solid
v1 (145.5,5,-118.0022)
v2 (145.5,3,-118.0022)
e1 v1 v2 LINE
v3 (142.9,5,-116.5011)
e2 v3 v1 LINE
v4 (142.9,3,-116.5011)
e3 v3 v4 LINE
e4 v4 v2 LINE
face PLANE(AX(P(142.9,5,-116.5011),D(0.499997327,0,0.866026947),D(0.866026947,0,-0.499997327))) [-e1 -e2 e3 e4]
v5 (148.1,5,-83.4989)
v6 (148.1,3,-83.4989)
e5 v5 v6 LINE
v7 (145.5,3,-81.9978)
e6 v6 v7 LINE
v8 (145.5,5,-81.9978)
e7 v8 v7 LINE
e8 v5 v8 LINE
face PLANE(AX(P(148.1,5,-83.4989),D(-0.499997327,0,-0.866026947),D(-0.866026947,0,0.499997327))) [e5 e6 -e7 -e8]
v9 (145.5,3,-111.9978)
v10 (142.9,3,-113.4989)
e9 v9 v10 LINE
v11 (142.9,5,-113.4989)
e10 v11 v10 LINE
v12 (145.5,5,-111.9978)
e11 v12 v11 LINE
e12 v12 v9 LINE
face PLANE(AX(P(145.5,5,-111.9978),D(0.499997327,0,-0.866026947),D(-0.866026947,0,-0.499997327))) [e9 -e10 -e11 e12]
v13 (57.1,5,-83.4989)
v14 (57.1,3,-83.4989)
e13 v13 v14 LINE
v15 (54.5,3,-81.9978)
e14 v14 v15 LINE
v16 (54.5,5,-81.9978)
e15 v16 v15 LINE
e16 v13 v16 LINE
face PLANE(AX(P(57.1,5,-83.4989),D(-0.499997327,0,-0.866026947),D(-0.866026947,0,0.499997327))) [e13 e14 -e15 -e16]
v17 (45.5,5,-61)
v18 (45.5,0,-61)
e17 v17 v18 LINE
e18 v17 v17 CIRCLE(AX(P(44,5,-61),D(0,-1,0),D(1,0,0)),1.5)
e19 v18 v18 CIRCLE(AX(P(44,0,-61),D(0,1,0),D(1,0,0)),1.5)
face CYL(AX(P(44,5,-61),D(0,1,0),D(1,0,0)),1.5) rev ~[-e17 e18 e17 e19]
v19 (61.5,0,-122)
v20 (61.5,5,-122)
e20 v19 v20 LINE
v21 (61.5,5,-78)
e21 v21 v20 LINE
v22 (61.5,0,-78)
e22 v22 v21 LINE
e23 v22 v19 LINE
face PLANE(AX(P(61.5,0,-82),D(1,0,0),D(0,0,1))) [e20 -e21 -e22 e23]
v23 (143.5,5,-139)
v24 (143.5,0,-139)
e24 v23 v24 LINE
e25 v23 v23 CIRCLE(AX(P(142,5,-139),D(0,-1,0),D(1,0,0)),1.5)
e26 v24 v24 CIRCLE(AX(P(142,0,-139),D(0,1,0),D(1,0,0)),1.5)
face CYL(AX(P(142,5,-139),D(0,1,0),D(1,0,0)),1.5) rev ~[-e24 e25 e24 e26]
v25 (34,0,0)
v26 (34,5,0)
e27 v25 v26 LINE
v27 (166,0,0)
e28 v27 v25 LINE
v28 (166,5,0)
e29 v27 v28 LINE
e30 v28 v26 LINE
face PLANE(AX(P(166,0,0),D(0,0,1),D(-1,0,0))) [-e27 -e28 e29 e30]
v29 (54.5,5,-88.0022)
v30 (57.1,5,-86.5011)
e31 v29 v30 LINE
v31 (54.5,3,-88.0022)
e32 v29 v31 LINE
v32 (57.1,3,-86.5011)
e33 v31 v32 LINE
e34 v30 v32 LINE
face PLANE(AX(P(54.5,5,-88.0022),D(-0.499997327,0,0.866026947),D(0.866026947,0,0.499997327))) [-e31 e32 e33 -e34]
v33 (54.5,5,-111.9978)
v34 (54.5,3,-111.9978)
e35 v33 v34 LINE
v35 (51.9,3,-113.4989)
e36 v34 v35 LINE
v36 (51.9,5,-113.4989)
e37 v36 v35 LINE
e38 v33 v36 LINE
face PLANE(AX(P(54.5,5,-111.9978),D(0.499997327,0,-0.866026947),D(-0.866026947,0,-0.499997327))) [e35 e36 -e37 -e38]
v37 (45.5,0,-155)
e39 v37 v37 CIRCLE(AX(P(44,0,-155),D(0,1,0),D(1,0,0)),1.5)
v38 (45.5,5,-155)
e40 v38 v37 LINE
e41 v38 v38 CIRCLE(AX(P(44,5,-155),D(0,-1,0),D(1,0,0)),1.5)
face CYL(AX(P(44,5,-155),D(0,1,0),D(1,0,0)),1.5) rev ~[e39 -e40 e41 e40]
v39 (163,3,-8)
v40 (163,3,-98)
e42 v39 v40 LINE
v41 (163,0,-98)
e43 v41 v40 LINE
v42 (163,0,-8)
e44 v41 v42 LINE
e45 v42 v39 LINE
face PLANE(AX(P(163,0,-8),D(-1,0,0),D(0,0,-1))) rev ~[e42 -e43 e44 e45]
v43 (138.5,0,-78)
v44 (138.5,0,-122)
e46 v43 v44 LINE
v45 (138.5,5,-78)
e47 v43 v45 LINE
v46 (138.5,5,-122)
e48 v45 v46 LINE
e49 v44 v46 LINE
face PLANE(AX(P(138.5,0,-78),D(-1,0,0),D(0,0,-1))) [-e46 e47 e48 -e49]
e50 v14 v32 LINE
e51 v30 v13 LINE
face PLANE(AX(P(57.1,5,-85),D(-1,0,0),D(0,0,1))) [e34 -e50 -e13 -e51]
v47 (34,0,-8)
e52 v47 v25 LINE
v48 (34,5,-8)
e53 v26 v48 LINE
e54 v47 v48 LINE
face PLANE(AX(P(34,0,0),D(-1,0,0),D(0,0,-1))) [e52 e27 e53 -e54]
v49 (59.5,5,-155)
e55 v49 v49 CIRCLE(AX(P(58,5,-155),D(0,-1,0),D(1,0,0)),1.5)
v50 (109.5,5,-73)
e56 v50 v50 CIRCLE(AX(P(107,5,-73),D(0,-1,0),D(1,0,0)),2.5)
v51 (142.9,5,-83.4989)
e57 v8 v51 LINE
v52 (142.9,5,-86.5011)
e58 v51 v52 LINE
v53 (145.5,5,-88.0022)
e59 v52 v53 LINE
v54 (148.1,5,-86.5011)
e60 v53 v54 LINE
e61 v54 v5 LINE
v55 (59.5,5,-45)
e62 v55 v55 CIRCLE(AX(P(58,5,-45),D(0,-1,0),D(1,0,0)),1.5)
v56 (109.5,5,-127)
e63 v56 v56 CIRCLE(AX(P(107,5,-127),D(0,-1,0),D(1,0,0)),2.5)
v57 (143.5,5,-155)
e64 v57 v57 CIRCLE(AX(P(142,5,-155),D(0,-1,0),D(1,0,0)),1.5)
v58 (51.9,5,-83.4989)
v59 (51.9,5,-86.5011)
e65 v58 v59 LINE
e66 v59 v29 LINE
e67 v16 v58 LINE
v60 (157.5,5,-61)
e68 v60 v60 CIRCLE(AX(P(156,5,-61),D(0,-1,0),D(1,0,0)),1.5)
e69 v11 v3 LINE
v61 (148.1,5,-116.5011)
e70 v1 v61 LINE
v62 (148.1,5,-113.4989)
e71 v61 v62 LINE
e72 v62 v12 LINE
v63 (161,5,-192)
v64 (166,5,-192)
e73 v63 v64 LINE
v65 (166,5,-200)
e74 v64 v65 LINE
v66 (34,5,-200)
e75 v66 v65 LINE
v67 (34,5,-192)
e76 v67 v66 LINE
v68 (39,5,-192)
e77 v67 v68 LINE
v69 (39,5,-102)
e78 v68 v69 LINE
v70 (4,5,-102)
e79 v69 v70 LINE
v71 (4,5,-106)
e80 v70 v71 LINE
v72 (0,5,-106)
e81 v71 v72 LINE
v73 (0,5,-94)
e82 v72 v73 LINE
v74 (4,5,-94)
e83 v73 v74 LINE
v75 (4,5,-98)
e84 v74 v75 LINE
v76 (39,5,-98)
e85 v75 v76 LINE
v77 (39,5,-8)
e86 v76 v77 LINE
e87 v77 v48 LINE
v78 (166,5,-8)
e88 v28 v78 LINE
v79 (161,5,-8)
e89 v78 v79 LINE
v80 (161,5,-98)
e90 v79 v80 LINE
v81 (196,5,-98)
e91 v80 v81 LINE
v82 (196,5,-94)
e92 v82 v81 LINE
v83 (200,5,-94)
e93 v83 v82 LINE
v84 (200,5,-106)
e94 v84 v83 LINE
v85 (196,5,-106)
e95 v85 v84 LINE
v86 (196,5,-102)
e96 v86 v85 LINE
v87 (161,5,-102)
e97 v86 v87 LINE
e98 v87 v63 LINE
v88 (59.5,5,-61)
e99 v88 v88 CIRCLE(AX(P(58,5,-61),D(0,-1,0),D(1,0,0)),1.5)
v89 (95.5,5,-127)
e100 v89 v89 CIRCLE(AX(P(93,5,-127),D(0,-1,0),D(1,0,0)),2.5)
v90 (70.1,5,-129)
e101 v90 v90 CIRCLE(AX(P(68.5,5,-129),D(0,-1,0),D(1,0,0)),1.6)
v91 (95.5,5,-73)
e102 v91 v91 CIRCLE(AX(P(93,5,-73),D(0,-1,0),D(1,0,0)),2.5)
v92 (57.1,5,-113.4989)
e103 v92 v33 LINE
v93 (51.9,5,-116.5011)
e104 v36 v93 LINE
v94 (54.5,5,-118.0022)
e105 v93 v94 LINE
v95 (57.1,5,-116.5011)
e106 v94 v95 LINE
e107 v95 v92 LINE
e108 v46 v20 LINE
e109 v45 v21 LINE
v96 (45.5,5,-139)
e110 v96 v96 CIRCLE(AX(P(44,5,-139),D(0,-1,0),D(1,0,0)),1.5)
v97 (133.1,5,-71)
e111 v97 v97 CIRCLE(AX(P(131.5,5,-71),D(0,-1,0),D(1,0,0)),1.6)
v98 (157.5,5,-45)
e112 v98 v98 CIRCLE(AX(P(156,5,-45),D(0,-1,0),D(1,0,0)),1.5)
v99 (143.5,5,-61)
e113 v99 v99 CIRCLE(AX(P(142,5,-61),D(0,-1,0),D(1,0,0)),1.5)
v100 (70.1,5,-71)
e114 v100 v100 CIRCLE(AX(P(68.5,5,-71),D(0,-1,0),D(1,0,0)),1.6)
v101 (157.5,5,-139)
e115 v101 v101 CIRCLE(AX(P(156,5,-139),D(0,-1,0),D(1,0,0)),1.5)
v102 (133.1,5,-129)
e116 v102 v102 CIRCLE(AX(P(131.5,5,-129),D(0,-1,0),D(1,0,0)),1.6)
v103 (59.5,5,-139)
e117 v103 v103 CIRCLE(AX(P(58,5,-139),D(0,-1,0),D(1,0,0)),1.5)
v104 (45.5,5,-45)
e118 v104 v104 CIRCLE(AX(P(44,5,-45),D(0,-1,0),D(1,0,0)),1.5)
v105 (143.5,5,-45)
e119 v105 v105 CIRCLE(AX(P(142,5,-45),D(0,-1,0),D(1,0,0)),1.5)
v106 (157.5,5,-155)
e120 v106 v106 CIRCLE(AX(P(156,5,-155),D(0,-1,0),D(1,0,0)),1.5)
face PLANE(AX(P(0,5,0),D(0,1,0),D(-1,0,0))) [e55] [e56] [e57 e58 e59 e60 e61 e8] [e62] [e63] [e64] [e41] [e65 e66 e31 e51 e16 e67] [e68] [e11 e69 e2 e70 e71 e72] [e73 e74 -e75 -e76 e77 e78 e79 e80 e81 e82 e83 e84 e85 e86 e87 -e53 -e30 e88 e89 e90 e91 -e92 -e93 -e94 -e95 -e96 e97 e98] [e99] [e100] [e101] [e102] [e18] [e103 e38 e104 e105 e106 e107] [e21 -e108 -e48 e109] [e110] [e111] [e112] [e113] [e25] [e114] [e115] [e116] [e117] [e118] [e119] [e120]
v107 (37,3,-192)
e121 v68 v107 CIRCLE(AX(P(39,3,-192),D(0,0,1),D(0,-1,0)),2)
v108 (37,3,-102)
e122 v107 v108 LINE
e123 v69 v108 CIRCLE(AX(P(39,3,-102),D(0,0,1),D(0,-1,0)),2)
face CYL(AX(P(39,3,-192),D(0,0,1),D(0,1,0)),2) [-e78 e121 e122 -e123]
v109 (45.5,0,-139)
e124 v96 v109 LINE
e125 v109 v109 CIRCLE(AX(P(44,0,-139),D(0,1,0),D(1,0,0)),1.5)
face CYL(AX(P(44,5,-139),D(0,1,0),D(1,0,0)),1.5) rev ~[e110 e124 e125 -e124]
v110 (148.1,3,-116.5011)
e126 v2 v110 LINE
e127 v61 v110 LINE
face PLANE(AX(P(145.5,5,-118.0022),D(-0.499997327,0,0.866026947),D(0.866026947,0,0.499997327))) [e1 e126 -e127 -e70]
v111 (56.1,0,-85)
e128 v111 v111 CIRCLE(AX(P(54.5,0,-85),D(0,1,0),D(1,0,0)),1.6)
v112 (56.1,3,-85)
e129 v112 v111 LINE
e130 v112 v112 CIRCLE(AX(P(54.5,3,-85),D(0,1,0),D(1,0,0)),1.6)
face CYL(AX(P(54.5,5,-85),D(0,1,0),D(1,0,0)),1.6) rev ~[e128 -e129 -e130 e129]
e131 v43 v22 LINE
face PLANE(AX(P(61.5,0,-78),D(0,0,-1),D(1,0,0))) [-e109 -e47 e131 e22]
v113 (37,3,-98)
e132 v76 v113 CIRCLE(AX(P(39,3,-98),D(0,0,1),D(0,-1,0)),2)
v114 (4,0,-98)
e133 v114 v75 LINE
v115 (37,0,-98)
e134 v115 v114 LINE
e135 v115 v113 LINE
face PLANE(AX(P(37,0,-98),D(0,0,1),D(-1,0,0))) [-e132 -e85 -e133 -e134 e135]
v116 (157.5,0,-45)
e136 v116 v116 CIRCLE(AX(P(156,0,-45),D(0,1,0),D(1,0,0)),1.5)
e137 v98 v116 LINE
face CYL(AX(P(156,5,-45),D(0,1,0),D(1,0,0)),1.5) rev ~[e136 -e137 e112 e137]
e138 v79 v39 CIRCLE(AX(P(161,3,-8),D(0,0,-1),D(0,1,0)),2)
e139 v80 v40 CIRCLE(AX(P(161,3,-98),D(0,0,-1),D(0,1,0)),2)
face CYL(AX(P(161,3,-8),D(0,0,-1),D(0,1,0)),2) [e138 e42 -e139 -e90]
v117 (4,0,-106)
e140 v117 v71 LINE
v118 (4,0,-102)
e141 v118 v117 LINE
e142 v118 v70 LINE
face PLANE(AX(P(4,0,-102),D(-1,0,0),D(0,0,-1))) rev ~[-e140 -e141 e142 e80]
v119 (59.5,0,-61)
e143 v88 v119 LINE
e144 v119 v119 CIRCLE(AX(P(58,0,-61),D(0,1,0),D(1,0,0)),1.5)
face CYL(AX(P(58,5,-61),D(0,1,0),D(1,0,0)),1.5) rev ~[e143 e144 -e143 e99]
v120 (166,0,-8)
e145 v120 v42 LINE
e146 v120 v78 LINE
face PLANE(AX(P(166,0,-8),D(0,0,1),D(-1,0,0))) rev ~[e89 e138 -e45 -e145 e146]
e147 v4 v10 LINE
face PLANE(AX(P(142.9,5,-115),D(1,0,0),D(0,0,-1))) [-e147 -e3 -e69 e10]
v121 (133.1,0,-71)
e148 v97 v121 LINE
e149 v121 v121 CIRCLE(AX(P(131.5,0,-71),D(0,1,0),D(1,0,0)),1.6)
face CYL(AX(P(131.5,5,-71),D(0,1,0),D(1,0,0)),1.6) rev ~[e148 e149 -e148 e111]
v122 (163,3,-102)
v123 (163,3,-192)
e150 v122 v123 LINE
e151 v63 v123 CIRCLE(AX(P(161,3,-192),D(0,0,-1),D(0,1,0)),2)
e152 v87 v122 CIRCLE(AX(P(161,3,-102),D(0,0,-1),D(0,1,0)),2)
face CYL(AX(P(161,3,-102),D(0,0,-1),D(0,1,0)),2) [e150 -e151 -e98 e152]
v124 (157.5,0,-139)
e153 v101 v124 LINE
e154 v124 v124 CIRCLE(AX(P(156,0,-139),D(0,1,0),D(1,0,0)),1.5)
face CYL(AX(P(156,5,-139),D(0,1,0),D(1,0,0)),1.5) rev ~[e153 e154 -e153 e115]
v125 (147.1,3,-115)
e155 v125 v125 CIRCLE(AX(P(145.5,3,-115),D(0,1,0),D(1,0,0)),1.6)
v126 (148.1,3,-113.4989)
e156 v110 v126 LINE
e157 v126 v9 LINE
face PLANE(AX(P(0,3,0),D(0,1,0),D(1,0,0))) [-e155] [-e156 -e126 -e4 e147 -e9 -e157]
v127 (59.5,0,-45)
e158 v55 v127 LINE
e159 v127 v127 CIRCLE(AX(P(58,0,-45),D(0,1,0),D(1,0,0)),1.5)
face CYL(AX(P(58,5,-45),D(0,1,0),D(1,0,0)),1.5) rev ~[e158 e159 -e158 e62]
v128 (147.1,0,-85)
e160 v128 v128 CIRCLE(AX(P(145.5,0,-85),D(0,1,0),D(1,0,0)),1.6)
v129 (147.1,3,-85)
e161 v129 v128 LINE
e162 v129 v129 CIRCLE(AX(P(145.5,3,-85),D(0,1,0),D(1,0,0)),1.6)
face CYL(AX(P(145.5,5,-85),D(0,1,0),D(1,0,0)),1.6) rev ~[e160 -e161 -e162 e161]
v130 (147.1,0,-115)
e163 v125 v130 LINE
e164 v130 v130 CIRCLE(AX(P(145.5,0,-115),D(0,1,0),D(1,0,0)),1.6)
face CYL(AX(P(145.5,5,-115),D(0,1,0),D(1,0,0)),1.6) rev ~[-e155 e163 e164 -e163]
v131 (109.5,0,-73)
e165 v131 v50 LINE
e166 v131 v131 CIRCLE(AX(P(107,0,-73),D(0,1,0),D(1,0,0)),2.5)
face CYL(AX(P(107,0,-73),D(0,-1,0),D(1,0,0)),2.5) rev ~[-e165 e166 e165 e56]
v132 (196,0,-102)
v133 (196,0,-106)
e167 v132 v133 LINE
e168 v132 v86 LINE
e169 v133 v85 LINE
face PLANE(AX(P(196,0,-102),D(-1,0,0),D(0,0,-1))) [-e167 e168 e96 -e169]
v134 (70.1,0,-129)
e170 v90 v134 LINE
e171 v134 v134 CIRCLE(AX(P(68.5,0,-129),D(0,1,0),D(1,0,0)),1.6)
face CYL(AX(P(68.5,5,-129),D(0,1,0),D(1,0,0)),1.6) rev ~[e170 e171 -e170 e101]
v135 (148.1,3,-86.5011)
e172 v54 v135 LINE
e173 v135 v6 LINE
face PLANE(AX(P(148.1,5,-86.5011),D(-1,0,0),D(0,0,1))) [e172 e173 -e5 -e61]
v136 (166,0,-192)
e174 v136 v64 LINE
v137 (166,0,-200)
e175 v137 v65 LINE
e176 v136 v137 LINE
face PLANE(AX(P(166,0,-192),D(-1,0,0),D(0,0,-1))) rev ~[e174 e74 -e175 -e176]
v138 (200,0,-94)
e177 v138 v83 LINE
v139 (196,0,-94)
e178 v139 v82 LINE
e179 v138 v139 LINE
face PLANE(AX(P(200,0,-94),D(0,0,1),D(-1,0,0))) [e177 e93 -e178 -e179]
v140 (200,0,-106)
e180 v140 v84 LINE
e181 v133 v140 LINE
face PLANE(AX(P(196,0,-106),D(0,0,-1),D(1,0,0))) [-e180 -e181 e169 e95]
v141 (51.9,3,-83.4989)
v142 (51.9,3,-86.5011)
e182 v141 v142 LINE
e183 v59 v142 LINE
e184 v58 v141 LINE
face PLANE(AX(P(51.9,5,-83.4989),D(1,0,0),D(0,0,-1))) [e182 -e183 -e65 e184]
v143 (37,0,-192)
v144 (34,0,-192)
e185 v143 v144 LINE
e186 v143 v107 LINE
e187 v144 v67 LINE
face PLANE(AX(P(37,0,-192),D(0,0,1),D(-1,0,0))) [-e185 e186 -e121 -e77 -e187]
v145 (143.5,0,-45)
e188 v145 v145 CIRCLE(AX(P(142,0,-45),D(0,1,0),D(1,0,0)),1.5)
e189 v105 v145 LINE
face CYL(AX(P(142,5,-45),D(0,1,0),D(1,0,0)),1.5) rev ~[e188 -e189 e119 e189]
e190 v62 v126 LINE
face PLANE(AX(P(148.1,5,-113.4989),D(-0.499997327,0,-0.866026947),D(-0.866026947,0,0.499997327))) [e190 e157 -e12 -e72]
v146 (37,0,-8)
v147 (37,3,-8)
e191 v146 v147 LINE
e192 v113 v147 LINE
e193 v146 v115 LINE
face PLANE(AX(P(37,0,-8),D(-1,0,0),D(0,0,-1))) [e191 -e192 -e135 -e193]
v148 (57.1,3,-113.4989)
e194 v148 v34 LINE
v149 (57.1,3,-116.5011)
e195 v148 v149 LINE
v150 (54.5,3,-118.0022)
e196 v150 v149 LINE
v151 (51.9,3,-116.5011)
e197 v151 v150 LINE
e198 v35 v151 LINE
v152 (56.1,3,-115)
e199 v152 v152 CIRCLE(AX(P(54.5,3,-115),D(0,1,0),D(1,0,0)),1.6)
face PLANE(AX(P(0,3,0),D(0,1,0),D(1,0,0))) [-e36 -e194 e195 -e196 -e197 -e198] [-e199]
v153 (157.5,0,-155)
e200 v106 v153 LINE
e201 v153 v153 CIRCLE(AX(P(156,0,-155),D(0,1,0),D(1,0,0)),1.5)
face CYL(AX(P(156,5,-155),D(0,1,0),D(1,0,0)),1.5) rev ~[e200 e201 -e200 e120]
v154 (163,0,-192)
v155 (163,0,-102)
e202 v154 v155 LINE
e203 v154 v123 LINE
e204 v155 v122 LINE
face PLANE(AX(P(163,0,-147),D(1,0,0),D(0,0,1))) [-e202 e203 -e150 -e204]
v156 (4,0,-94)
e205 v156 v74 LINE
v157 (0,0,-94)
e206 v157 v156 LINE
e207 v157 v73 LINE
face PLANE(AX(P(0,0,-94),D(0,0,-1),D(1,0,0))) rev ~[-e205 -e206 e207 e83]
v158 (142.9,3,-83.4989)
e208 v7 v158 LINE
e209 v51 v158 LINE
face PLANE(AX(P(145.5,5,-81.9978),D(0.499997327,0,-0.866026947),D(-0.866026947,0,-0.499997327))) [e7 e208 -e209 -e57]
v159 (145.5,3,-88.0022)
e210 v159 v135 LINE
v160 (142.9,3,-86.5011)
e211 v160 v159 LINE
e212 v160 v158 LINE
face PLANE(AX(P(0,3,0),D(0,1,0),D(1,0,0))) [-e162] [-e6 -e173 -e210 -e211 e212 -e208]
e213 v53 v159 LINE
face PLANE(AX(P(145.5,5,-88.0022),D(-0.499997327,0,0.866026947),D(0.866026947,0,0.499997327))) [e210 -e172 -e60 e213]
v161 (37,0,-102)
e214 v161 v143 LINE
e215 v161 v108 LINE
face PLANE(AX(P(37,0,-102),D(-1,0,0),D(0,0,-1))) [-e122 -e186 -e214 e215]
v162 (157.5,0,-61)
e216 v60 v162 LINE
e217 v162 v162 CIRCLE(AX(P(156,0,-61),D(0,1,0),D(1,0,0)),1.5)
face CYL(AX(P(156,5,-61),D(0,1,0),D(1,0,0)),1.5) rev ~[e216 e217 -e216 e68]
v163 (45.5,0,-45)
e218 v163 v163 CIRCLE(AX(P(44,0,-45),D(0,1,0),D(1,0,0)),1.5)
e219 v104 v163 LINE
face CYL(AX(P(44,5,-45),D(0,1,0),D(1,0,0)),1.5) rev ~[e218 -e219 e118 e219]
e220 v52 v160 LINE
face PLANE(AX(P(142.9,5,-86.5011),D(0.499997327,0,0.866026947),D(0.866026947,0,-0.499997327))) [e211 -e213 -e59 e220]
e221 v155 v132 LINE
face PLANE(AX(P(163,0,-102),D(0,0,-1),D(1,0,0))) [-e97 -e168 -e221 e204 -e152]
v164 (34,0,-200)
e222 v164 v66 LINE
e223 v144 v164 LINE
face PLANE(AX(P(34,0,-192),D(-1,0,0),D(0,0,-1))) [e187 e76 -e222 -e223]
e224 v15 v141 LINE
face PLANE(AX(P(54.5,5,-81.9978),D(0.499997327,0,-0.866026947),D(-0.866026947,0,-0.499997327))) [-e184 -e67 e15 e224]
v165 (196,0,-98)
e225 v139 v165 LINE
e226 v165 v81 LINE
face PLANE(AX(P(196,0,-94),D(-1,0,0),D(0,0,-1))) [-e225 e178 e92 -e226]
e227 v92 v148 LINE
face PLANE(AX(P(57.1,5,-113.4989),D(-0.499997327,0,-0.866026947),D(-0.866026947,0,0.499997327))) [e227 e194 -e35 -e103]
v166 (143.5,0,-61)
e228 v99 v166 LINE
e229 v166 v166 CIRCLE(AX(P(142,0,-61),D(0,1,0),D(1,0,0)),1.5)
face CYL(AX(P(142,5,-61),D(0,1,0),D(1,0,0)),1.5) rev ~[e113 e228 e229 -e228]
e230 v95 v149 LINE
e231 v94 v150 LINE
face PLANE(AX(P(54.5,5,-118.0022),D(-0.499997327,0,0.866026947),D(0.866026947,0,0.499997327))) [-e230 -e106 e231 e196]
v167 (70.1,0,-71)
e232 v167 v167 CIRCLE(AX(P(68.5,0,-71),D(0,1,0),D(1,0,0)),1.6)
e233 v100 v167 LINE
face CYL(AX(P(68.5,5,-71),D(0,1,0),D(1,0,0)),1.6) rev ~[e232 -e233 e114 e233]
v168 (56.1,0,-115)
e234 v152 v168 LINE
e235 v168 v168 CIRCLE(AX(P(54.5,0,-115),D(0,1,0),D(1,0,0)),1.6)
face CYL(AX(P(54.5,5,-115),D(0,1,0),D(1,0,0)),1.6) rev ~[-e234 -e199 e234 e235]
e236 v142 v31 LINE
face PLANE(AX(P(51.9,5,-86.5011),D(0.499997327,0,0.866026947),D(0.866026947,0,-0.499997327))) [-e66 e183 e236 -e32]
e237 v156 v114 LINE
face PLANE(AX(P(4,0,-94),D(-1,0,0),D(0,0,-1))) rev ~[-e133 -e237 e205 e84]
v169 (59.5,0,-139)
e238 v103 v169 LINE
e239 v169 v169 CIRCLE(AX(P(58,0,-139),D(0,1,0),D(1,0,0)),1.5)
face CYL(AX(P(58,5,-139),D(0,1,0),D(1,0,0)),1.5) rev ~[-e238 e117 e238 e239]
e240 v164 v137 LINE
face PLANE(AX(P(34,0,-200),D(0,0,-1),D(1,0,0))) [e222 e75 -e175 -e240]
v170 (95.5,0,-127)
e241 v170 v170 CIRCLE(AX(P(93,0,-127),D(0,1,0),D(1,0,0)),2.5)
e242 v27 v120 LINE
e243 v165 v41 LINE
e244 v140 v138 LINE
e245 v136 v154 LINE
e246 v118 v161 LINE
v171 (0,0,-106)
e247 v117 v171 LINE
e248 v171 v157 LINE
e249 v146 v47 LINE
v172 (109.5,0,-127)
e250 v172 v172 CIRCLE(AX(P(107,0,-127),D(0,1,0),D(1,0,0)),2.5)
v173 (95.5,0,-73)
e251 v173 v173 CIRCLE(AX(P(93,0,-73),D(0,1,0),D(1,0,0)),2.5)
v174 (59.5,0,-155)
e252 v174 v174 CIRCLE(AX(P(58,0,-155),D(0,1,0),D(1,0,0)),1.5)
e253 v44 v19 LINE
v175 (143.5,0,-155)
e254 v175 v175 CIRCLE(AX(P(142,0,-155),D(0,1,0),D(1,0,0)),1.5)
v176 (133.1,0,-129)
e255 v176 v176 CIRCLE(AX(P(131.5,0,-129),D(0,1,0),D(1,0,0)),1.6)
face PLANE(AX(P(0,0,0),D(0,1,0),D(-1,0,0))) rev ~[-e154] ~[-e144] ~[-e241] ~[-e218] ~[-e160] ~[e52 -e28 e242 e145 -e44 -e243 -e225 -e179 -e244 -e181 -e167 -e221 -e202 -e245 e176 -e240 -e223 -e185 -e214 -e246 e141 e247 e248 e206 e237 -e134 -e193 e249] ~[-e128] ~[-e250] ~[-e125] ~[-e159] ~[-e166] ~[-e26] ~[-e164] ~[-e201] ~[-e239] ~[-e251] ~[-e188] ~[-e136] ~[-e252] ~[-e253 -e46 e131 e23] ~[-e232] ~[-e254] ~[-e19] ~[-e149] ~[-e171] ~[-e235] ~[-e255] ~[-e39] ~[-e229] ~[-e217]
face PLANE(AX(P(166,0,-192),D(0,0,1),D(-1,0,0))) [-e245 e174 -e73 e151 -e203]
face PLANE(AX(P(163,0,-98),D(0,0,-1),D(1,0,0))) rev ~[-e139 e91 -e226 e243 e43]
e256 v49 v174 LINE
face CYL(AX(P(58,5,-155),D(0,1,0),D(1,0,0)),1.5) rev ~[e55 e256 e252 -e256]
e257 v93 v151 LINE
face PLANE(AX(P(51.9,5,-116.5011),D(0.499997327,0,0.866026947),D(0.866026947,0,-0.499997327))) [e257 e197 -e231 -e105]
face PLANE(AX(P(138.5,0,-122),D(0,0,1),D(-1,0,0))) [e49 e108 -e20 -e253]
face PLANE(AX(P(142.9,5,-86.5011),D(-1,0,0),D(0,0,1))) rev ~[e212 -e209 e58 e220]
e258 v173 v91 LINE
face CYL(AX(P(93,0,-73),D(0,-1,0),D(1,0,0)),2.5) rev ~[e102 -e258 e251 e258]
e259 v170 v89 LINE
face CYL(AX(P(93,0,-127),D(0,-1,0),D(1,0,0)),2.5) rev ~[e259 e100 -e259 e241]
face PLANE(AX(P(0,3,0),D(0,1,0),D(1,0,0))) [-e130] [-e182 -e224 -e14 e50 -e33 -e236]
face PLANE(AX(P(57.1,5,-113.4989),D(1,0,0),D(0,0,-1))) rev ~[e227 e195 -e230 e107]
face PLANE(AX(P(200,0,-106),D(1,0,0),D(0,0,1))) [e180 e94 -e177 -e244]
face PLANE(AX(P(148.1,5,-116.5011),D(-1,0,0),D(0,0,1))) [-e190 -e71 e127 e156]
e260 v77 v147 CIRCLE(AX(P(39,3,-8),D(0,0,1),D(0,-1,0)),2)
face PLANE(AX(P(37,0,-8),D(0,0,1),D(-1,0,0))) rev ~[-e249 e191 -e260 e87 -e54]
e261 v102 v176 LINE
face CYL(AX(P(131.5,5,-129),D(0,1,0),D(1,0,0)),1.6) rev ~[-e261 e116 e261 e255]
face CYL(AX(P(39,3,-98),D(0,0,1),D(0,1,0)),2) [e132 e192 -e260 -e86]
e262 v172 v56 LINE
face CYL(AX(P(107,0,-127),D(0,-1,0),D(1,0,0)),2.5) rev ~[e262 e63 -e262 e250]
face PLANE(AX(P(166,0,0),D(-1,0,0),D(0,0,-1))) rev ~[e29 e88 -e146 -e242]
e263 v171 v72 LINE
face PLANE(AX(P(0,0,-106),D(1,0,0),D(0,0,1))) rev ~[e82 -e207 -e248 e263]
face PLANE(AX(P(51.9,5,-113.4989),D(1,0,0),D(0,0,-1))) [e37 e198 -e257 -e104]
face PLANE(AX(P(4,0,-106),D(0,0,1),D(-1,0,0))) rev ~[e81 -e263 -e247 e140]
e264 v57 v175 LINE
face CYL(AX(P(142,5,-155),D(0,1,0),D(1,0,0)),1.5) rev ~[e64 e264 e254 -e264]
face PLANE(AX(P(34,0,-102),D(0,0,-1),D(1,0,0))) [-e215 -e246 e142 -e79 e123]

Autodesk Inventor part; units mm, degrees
ref_plane "YZ Plane" through (0, 0, 0) normal (1, 0, 0) x (0, 1, 0)
ref_plane "XZ Plane" through (0, 0, 0) normal (0, 1, 0) x (-1, 0, 0)
ref_plane "XY Plane" through (0, 0, 0) normal (0, 0, 1) x (1, 0, 0)
sketch "Эскиз2" plane through (0, 0, 0) normal (0, 1, 0) x (-1, 0, 0)
  line L0 (-166, 0) -> (-166, -200)
  line L1 (-34, 0) -> (-34, -200)
  line L2 (-34, -8) -> (-34, -4)
  line L3 (-9, -53) -> (-196, -53)
  line L4 (-9, -147) -> (-196, -147)
  line L5 (-37, -8) -> (-37, -98)
  line L6 (-37, -98) -> (-29, -98)
  line L7 (-29, -102) -> (-37, -102)
  line L8 (-37, -102) -> (-37, -192)
  line L9 (-166, -192) -> (-163, -192)
  line L10 (-163, -192) -> (-163, -102)
  line L11 (-163, -102) -> (-166, -102)
  line L12 (-166, -102) -> (-166, -192)
  line L13 (-166, -8) -> (-163, -8)
  line L14 (-163, -8) -> (-163, -98)
  line L15 (-163, -98) -> (-166, -98)
  line L16 (-166, -98) -> (-166, -8)
  line L17 (-166, -98) -> (-196, -98)
  line L18 (-196, -98) -> (-196, -102)
  line L19 (-196, -102) -> (-166, -102)
  line L20 (-166, -102) -> (-166, -98)
  line L21 (-29, -98) -> (-4, -98)
  line L22 (-4, -98) -> (-4, -102)
  line L23 (-4, -102) -> (-29, -102)
  line L24 (-29, -102) -> (-29, -98)
  line L25 (-37, -192) -> (-34, -192)
  line L26 (-37, -8) -> (-34, -8)
  line L27 (-4, -102) -> (-4, -106)
  line L28 (-196, -102) -> (-196, -106)
  line L29 (-4, -106) -> (0, -106)
  line L30 (0, -106) -> (0, -94)
  line L31 (0, -94) -> (-4, -94)
  line L32 (-4, -94) -> (-4, -106)
  line L33 (-196, -106) -> (-200, -106)
  line L34 (-200, -106) -> (-200, -94)
  line L35 (-200, -94) -> (-196, -94)
  line L36 (-196, -94) -> (-196, -106)
  line L37 (-34, -200) -> (-166, -200)
  line L38 (-166, 0) -> (-34, 0)
  point P0 (-34, -102)
  point P1 (-34, -98)
  point P2 (-4, -98)
  dimension "d25" = 8
  dimension "d27" = 3
  dimension "d145" = 4
  dimension "d146" = 12
extrude "Выдавливание1" add sketch "Эскиз2" along normal blind 5 contours L38 L1 L26 L5 L3 L14 L13 L0 | L15 L14 L3 L5 L6 L1 L7 L8 L4 L10 L11 L0 | L0 L19 L18 L17 | L18 L28 L33 L34 L35 L36 | L6 L24 L7 L1 | L9 L10 L4 L8 L25 L1 L37 L0 | L21 L22 L23 L24 | L32 L31 L30 L29 L27 L22
sketch "Эскиз3" plane through (0, 5, 0) normal (0, 1, 0) x (1, 0, 0)
  line L0 (37, 192) -> (37, 102) projected
  line L1 (37, 147) -> (163, 147)
  line L2 (163, 102) -> (163, 192) projected
  line L3 (37, 98) -> (37, 8) projected
  line L4 (37, 53) -> (163, 53)
  line L5 (163, 147) -> (156, 147)
  line L6 (156, 147) -> (142, 147)
  line L7 (142, 147) -> (142, 155)
  line L8 (142, 155) -> (156, 155)
  line L9 (156, 155) -> (156, 139)
  line L10 (156, 139) -> (142, 139)
  line L11 (142, 139) -> (142, 155)
  line L12 (37, 147) -> (44, 147)
  line L13 (44, 147) -> (58, 147)
  line L14 (58, 147) -> (58, 155)
  line L15 (58, 155) -> (44, 155)
  line L16 (44, 155) -> (44, 139)
  line L17 (44, 139) -> (58, 139)
  line L18 (58, 139) -> (58, 155)
  line L19 (163, 53) -> (156, 53)
  line L20 (156, 53) -> (142, 53)
  line L21 (142, 53) -> (142, 61)
  line L22 (142, 61) -> (58, 61)
  line L23 (58, 61) -> (44, 61)
  line L24 (44, 61) -> (44, 45)
  line L25 (44, 45) -> (58, 45)
  line L26 (58, 45) -> (58, 61)
  line L27 (142, 61) -> (156, 61)
  line L28 (156, 61) -> (156, 45)
  line L29 (156, 45) -> (142, 45)
  line L30 (142, 45) -> (142, 61)
  circle A0 centre (156, 61) radius 1.5
  circle A1 centre (156, 45) radius 1.5
  circle A2 centre (142, 45) radius 1.5
  circle A3 centre (142, 61) radius 1.5
  circle A4 centre (58, 61) radius 1.5
  circle A5 centre (58, 45) radius 1.5
  circle A6 centre (44, 61) radius 1.5
  circle A7 centre (44, 45) radius 1.5
  circle A8 centre (142, 139) radius 1.5
  circle A9 centre (156, 139) radius 1.5
  circle A10 centre (156, 155) radius 1.5
  circle A11 centre (142, 155) radius 1.5
  circle A12 centre (58, 155) radius 1.5
  circle A13 centre (44, 155) radius 1.5
  circle A14 centre (58, 139) radius 1.5
  circle A15 centre (44, 139) radius 1.5
  point P0 (0, 0)
  point P1 (142, 46.5)
  point P2 (143.5, 45)
  dimension "d30" = 7
  dimension "d31" = 14
  dimension "d32" = 8
  dimension "d33" = 16
  dimension "d34" = 7
  dimension "d35" = 14
  dimension "d36" = 8
  dimension "d37" = 16
  dimension "d38" = 7
  dimension "d39" = 14
  dimension "d40" = 8
  dimension "d41" = 16
  dimension "d42" = 16
  dimension "d43" = 3
  dimension "d44" = 3
  dimension "d45" = 3
  dimension "d46" = 3
  dimension "d47" = 3
  dimension "d48" = 3
  dimension "d49" = 3
  dimension "d50" = 3
  dimension "d51" = 3
  dimension "d52" = 3
  dimension "d53" = 3
  dimension "d54" = 3
  dimension "d55" = 3
  dimension "d56" = 3
  dimension "d57" = 3
  dimension "d58" = 3
extrude "Выдавливание2" cut sketch "Эскиз3" against normal blind 5 contours A13 L15 L16 | L16 L15 A13 | A15 L17 L16 | L16 L17 A15 | A12 L15 L14 | L14 L15 A12 | A14 L17 L18 | L18 L17 A14 | A11 L8 L7 | L7 L8 A11 | A8 L10 L11 | L11 L10 A8 | A10 L8 L9 | L9 L8 A10 | A9 L10 L9 | L9 L10 A9 | A3 L22 L21 | L21 L27 A3 | A2 L29 L30 | L30 L29 A2 | A0 L27 L28 | L28 L27 A0 | A1 L29 L28 | L28 L29 A1 | A5 L25 L26 | L26 L25 A5 | A4 L23 L26 | L26 L22 A4 | L22 A3 L27 | A6 L23 L24 | L24 L23 A6 | A7 L25 L24 | L24 L25 A7 | L23 A4 L22
fillet "Сопряжение1" radius 2 4 edges at (163, 5, -53) (163, 5, -147) (37, 5, -147) (37, 5, -53)
sketch "Эскиз4" plane through (0, 0, 0) normal (0, -1, 0) x (1, 0, 0)
  circle A0 centre (156, -45) radius 1.5 projected
  circle A1 centre (142, -61) radius 1.5 projected
  line L0 (156, -45) -> (142, -45)
  line L1 (142, -45) -> (142, -61)
  line L2 (142, -61) -> (156, -61)
  line L3 (156, -61) -> (156, -45)
  circle A2 centre (156, -139) radius 1.5 projected
  circle A3 centre (142, -155) radius 1.5 projected
  line L4 (156, -139) -> (142, -139)
  line L5 (142, -139) -> (142, -155)
  line L6 (142, -155) -> (156, -155)
  line L7 (156, -155) -> (156, -139)
  circle A4 centre (58, -139) radius 1.5 projected
  circle A5 centre (44, -155) radius 1.5 projected
  line L8 (58, -139) -> (44, -139)
  line L9 (44, -139) -> (44, -155)
  line L10 (44, -155) -> (58, -155)
  line L11 (58, -155) -> (58, -139)
  circle A6 centre (58, -45) radius 1.5 projected
  circle A7 centre (44, -61) radius 1.5 projected
  line L12 (58, -45) -> (44, -45)
  line L13 (44, -45) -> (44, -61)
  line L14 (44, -61) -> (58, -61)
  line L15 (58, -61) -> (58, -45)
  line L16 (37, -98) -> (37, -8) projected
  line L17 (37, -53) -> (37, -66)
  line L18 (163, -8) -> (163, -98) projected
  line L19 (163, -102) -> (163, -192) projected
  line L20 (163, -147) -> (163, -134)
  line L21 (37, -134) -> (37, -160)
  line L22 (37, -192) -> (37, -102) projected
  line L23 (163, -66) -> (163, -40)
  line L24 (37, -40) -> (67, -40)
  line L25 (67, -40) -> (67, -66)
  line L26 (67, -66) -> (37, -66)
  line L27 (37, -66) -> (37, -40)
  line L28 (163, -66) -> (133, -66)
  line L29 (133, -66) -> (133, -40)
  line L30 (133, -40) -> (163, -40)
  line L31 (163, -40) -> (163, -66)
  line L32 (163, -134) -> (133, -134)
  line L33 (133, -134) -> (133, -160)
  line L34 (133, -160) -> (163, -160)
  line L35 (163, -160) -> (163, -134)
  line L36 (37, -134) -> (67, -134)
  line L37 (67, -134) -> (67, -160)
  line L38 (67, -160) -> (37, -160)
  line L39 (37, -160) -> (37, -134)
  line L40 (37, -160) -> (34, -160)
  line L41 (34, -160) -> (34, -134)
  line L42 (34, -134) -> (37, -134)
  line L43 (37, -134) -> (37, -160)
  line L44 (37, -66) -> (34, -66)
  line L45 (34, -66) -> (34, -40)
  line L46 (34, -40) -> (37, -40)
  line L47 (37, -40) -> (37, -66)
  line L48 (163, -40) -> (166, -40)
  line L49 (166, -40) -> (166, -66)
  line L50 (166, -66) -> (163, -66)
  line L51 (163, -66) -> (163, -40)
  line L52 (163, -134) -> (166, -134)
  line L53 (166, -134) -> (166, -160)
  line L54 (166, -160) -> (163, -160)
  line L55 (163, -160) -> (163, -134)
  line L56 (163, -66) -> (109.2, -66)
  line L57 (109.2, -66) -> (109.2, -40)
  line L58 (109.2, -40) -> (163, -40)
  line L59 (163, -40) -> (163, -66)
  line L60 (37, -40) -> (90.8, -40)
  line L61 (90.8, -40) -> (90.8, -66)
  line L62 (90.8, -66) -> (37, -66)
  line L63 (37, -66) -> (37, -40)
  line L64 (163, -134) -> (109.2, -134)
  line L65 (109.2, -134) -> (109.2, -160)
  line L66 (109.2, -160) -> (163, -160)
  line L67 (163, -160) -> (163, -134)
  line L68 (37, -160) -> (90.8, -160)
  line L69 (90.8, -160) -> (90.8, -134)
  line L70 (90.8, -134) -> (37, -134)
  line L71 (37, -134) -> (37, -160)
  line L72 (109.2, -40) -> (101.2, -40)
  line L73 (101.2, -40) -> (101.2, -66)
  line L74 (101.2, -66) -> (109.2, -66)
  line L75 (109.2, -66) -> (109.2, -40)
  line L76 (90.8, -40) -> (98.8, -40)
  line L77 (98.8, -40) -> (98.8, -66)
  line L78 (98.8, -66) -> (90.8, -66)
  line L79 (90.8, -66) -> (90.8, -40)
  line L80 (109.2, -134) -> (101.2, -134)
  line L81 (101.2, -134) -> (101.2, -160)
  line L82 (101.2, -160) -> (109.2, -160)
  line L83 (109.2, -160) -> (109.2, -134)
  line L84 (90.8, -134) -> (98.8, -134)
  line L85 (98.8, -134) -> (98.8, -160)
  line L86 (98.8, -160) -> (90.8, -160)
  line L87 (90.8, -160) -> (90.8, -134)
  line L88 (166, -147) -> (185, -147)
  line L89 (34, -147) -> (15, -147)
  line L90 (34, -53) -> (15, -53)
  line L91 (166, -53) -> (185, -53)
  point P0 (0, 0)
  dimension "d62" = 13
  dimension "d63" = 13
  dimension "d64" = 26
  dimension "d65" = 26
  dimension "d66" = 30
  dimension "d67" = 30
  dimension "d68" = 30
  dimension "d69" = 3
  dimension "d70" = 3
  dimension "d71" = 53.8
  dimension "d72" = 53.8
  dimension "d73" = 53.8
  dimension "d74" = 53.8
  dimension "d75" = 8
  dimension "d76" = 8
  dimension "d77" = 8
  dimension "d78" = 8
  dimension "d93" = 19
  dimension "d94" = 19
  dimension "d95" = 68
sketch "Эскиз5" plane through (0, 0, 0) normal (0, -1, 0) x (1, 0, 0)
  line L0 (163, -8) -> (163, -98) projected
  line L1 (163, -53) -> (107, -53)
  line L2 (107, -53) -> (107, -147)
  line L3 (107, -147) -> (163, -147)
  line L4 (163, -147) -> (163, -53)
  line L5 (37, -98) -> (37, -8) projected
  line L6 (37, -53) -> (93, -53)
  line L7 (93, -53) -> (93, -147)
  line L8 (93, -147) -> (37, -147)
  line L9 (37, -147) -> (37, -53)
  line L10 (107, -147) -> (93, -147)
  line L11 (93, -147) -> (93, -127)
  line L12 (93, -127) -> (107, -127)
  line L13 (107, -127) -> (107, -147)
  line L14 (107, -53) -> (93, -53)
  line L15 (93, -53) -> (93, -73)
  line L16 (93, -73) -> (107, -73)
  line L17 (107, -73) -> (107, -53)
  circle A0 centre (93, -127) radius 2.5
  circle A1 centre (107, -127) radius 2.5
  circle A2 centre (107, -73) radius 2.5
  circle A3 centre (93, -73) radius 2.5
  point P0 (0, 0)
  dimension "d79" = 56
  dimension "d80" = 56
  dimension "d81" = 20
  dimension "d82" = 20
  dimension "d89" = 5
  dimension "d90" = 5
  dimension "d91" = 5
  dimension "d92" = 5
extrude "Выдавливание3" cut sketch "Эскиз5" against normal blind 5 contours A2 L2 | L2 L16 A2 | L2 A2 L16 | A3 L16 L7 | L7 A3 | A1 L12 L2 | L2 A1 | A3 L7 L16 | L12 A1 L2 | A0 L7 | L7 L12 A0 | A0 L12 L7
sketch "Эскиз6" plane through (0, 0, 0) normal (0, -1, 0) x (1, 0, 0)
  circle A0 centre (107, -73) radius 2.5 projected
  circle A1 centre (93, -127) radius 2.5 projected
  line L0 (107, -100) -> (93, -100)
  line L1 (100, -100) -> (67.5, -100)
  line L2 (67.5, -100) -> (132.5, -100)
  line L3 (132.5, -100) -> (132.5, -82)
  line L4 (132.5, -82) -> (67.5, -82)
  line L5 (67.5, -82) -> (67.5, -100)
  line L6 (132.5, -100) -> (67.5, -100)
  line L7 (67.5, -100) -> (67.5, -118)
  line L8 (67.5, -118) -> (132.5, -118)
  line L9 (132.5, -118) -> (132.5, -100)
  line L10 (61.5, -82) -> (61.5, -78)
  line L11 (61.5, -78) -> (67.5, -78)
  line L12 (61.5, -78) -> (138.5, -78)
  line L13 (138.5, -78) -> (138.5, -122)
  line L14 (138.5, -122) -> (61.5, -122)
  line L15 (61.5, -122) -> (61.5, -78)
  point P0 (0, 0)
  dimension "d97" = 65
  dimension "d100" = 6
  dimension "d101" = 4
  dimension "d102" = 77
  dimension "d103" = 44
extrude "Выдавливание5" cut sketch "Эскиз6" against normal blind 5 contours L2 L9 L8 L7 L1 L0 | L0 L1 L5 L4 L3 L2 | L10 L11 L12 L13 L14 L15
sketch "Эскиз7" plane through (0, 5, 0) normal (0, 1, 0) x (1, 0, 0)
  line L0 (138.5, 78) -> (138.5, 122) projected
  line L1 (145.5, 85) -> (54.5, 85)
  line L2 (54.5, 85) -> (54.5, 115)
  line L3 (54.5, 115) -> (145.5, 115)
  line L4 (145.5, 115) -> (145.5, 85)
  line L5 (145.5, 85) -> (142.9, 85)
  line L6 (54.5, 115) -> (57.1, 115)
  line L7 (57.1, 115) -> (142.9, 115)
  line L8 (142.9, 115) -> (142.9, 85)
  line L9 (142.9, 85) -> (57.1, 85)
  line L10 (57.1, 85) -> (57.1, 115)
  line L11 (142.9, 86.5011) -> (145.5, 88.0022)
  line L12 (145.5, 88.0022) -> (148.1, 86.5011)
  line L13 (148.1, 86.5011) -> (148.1, 83.4989)
  line L14 (148.1, 83.4989) -> (145.5, 81.9978)
  line L15 (145.5, 81.9978) -> (142.9, 83.4989)
  line L16 (142.9, 83.4989) -> (142.9, 86.5011)
  line L17 (142.9, 116.5011) -> (145.5, 118.0022)
  line L18 (145.5, 118.0022) -> (148.1, 116.5011)
  line L19 (148.1, 116.5011) -> (148.1, 113.4989)
  line L20 (148.1, 113.4989) -> (145.5, 111.9978)
  line L21 (145.5, 111.9978) -> (142.9, 113.4989)
  line L22 (142.9, 113.4989) -> (142.9, 116.5011)
  line L23 (57.1, 113.4989) -> (54.5, 111.9978)
  line L24 (54.5, 111.9978) -> (51.9, 113.4989)
  line L25 (51.9, 113.4989) -> (51.9, 116.5011)
  line L26 (51.9, 116.5011) -> (54.5, 118.0022)
  line L27 (54.5, 118.0022) -> (57.1, 116.5011)
  line L28 (57.1, 116.5011) -> (57.1, 113.4989)
  line L29 (57.1, 83.4989) -> (54.5, 81.9978)
  line L30 (54.5, 81.9978) -> (51.9, 83.4989)
  line L31 (51.9, 83.4989) -> (51.9, 86.5011)
  line L32 (51.9, 86.5011) -> (54.5, 88.0022)
  line L33 (54.5, 88.0022) -> (57.1, 86.5011)
  line L34 (57.1, 86.5011) -> (57.1, 83.4989)
  circle A0 centre (145.5, 115) radius 1.6
  circle A1 centre (145.5, 85) radius 1.6
  circle A2 centre (54.5, 115) radius 1.6
  circle A3 centre (54.5, 85) radius 1.6
  point P0 (0, 0)
  dimension "d116" = 91
  dimension "d117" = 30
  dimension "d118" = 2.6
  dimension "d119" = 2.6
  dimension "d120" = 3.2
  dimension "d121" = 3.2
  dimension "d122" = 3.2
  dimension "d123" = 3.2
extrude "Выдавливание6" cut sketch "Эскиз7" against normal blind 2 contours L8 L11 L4 A1 L1 | L1 A1 L4 L12 L13 L14 L15 L16 | L34 L29 L30 L31 L32 L2 A3 L1 | L1 A3 L2 L33 L10 | L10 L23 L2 A2 L3 | L3 A2 L2 L24 L25 L26 L27 L28 | L22 L17 L18 L19 L20 L4 A0 L3 | L3 A0 L4 L21 L8
sketch "Эскиз8" plane through (54.5, 5, -115) normal (0, 1, 0) x (1, 0, 0)
  circle A0 centre (91, 0) radius 1.6 projected
  circle A1 centre (91, 0) radius 1.6
  circle A2 centre (91, -30) radius 1.6 projected
  circle A3 centre (91, -30) radius 1.6
  circle A4 centre (0, -30) radius 1.6 projected
  circle A5 centre (0, -30) radius 1.6
  circle A6 centre (0, 0) radius 1.6 projected
  circle A7 centre (0, 0) radius 1.6
  point P0 (-54.5, -115)
extrude "Выдавливание7" cut sketch "Эскиз8" against normal blind 5
sketch "Эскиз9" plane through (0, 5, 0) normal (0, 1, 0) x (1, 0, 0)
  line L0 (138.5, 122) -> (61.5, 122) projected
  line L1 (61.5, 122) -> (68.5, 122)
  line L2 (61.5, 78) -> (138.5, 78) projected
  line L3 (68.5, 122) -> (68.5, 129)
  line L4 (68.5, 129) -> (131.5, 129)
  line L5 (131.5, 129) -> (131.5, 71)
  line L6 (131.5, 71) -> (68.5, 71)
  line L7 (68.5, 71) -> (68.5, 129)
  circle A0 centre (68.5, 129) radius 1.6
  circle A1 centre (131.5, 129) radius 1.6
  circle A2 centre (131.5, 71) radius 1.6
  circle A3 centre (68.5, 71) radius 1.6
  point P0 (0, 0)
  dimension "d138" = 7
  dimension "d139" = 63
  dimension "d140" = 58
  dimension "d141" = 3.2
  dimension "d142" = 3.2
  dimension "d143" = 3.2
  dimension "d144" = 3.2
extrude "Выдавливание8" cut sketch "Эскиз9" against normal blind 10 contours A1 L4 L5 | L5 L4 A1 | A0 L4 L3 | L3 L4 A0 | A2 L6 L5 | L5 L6 A2 | A3 L6 L7 | L7 L6 A3
properties part number "maze_03"
